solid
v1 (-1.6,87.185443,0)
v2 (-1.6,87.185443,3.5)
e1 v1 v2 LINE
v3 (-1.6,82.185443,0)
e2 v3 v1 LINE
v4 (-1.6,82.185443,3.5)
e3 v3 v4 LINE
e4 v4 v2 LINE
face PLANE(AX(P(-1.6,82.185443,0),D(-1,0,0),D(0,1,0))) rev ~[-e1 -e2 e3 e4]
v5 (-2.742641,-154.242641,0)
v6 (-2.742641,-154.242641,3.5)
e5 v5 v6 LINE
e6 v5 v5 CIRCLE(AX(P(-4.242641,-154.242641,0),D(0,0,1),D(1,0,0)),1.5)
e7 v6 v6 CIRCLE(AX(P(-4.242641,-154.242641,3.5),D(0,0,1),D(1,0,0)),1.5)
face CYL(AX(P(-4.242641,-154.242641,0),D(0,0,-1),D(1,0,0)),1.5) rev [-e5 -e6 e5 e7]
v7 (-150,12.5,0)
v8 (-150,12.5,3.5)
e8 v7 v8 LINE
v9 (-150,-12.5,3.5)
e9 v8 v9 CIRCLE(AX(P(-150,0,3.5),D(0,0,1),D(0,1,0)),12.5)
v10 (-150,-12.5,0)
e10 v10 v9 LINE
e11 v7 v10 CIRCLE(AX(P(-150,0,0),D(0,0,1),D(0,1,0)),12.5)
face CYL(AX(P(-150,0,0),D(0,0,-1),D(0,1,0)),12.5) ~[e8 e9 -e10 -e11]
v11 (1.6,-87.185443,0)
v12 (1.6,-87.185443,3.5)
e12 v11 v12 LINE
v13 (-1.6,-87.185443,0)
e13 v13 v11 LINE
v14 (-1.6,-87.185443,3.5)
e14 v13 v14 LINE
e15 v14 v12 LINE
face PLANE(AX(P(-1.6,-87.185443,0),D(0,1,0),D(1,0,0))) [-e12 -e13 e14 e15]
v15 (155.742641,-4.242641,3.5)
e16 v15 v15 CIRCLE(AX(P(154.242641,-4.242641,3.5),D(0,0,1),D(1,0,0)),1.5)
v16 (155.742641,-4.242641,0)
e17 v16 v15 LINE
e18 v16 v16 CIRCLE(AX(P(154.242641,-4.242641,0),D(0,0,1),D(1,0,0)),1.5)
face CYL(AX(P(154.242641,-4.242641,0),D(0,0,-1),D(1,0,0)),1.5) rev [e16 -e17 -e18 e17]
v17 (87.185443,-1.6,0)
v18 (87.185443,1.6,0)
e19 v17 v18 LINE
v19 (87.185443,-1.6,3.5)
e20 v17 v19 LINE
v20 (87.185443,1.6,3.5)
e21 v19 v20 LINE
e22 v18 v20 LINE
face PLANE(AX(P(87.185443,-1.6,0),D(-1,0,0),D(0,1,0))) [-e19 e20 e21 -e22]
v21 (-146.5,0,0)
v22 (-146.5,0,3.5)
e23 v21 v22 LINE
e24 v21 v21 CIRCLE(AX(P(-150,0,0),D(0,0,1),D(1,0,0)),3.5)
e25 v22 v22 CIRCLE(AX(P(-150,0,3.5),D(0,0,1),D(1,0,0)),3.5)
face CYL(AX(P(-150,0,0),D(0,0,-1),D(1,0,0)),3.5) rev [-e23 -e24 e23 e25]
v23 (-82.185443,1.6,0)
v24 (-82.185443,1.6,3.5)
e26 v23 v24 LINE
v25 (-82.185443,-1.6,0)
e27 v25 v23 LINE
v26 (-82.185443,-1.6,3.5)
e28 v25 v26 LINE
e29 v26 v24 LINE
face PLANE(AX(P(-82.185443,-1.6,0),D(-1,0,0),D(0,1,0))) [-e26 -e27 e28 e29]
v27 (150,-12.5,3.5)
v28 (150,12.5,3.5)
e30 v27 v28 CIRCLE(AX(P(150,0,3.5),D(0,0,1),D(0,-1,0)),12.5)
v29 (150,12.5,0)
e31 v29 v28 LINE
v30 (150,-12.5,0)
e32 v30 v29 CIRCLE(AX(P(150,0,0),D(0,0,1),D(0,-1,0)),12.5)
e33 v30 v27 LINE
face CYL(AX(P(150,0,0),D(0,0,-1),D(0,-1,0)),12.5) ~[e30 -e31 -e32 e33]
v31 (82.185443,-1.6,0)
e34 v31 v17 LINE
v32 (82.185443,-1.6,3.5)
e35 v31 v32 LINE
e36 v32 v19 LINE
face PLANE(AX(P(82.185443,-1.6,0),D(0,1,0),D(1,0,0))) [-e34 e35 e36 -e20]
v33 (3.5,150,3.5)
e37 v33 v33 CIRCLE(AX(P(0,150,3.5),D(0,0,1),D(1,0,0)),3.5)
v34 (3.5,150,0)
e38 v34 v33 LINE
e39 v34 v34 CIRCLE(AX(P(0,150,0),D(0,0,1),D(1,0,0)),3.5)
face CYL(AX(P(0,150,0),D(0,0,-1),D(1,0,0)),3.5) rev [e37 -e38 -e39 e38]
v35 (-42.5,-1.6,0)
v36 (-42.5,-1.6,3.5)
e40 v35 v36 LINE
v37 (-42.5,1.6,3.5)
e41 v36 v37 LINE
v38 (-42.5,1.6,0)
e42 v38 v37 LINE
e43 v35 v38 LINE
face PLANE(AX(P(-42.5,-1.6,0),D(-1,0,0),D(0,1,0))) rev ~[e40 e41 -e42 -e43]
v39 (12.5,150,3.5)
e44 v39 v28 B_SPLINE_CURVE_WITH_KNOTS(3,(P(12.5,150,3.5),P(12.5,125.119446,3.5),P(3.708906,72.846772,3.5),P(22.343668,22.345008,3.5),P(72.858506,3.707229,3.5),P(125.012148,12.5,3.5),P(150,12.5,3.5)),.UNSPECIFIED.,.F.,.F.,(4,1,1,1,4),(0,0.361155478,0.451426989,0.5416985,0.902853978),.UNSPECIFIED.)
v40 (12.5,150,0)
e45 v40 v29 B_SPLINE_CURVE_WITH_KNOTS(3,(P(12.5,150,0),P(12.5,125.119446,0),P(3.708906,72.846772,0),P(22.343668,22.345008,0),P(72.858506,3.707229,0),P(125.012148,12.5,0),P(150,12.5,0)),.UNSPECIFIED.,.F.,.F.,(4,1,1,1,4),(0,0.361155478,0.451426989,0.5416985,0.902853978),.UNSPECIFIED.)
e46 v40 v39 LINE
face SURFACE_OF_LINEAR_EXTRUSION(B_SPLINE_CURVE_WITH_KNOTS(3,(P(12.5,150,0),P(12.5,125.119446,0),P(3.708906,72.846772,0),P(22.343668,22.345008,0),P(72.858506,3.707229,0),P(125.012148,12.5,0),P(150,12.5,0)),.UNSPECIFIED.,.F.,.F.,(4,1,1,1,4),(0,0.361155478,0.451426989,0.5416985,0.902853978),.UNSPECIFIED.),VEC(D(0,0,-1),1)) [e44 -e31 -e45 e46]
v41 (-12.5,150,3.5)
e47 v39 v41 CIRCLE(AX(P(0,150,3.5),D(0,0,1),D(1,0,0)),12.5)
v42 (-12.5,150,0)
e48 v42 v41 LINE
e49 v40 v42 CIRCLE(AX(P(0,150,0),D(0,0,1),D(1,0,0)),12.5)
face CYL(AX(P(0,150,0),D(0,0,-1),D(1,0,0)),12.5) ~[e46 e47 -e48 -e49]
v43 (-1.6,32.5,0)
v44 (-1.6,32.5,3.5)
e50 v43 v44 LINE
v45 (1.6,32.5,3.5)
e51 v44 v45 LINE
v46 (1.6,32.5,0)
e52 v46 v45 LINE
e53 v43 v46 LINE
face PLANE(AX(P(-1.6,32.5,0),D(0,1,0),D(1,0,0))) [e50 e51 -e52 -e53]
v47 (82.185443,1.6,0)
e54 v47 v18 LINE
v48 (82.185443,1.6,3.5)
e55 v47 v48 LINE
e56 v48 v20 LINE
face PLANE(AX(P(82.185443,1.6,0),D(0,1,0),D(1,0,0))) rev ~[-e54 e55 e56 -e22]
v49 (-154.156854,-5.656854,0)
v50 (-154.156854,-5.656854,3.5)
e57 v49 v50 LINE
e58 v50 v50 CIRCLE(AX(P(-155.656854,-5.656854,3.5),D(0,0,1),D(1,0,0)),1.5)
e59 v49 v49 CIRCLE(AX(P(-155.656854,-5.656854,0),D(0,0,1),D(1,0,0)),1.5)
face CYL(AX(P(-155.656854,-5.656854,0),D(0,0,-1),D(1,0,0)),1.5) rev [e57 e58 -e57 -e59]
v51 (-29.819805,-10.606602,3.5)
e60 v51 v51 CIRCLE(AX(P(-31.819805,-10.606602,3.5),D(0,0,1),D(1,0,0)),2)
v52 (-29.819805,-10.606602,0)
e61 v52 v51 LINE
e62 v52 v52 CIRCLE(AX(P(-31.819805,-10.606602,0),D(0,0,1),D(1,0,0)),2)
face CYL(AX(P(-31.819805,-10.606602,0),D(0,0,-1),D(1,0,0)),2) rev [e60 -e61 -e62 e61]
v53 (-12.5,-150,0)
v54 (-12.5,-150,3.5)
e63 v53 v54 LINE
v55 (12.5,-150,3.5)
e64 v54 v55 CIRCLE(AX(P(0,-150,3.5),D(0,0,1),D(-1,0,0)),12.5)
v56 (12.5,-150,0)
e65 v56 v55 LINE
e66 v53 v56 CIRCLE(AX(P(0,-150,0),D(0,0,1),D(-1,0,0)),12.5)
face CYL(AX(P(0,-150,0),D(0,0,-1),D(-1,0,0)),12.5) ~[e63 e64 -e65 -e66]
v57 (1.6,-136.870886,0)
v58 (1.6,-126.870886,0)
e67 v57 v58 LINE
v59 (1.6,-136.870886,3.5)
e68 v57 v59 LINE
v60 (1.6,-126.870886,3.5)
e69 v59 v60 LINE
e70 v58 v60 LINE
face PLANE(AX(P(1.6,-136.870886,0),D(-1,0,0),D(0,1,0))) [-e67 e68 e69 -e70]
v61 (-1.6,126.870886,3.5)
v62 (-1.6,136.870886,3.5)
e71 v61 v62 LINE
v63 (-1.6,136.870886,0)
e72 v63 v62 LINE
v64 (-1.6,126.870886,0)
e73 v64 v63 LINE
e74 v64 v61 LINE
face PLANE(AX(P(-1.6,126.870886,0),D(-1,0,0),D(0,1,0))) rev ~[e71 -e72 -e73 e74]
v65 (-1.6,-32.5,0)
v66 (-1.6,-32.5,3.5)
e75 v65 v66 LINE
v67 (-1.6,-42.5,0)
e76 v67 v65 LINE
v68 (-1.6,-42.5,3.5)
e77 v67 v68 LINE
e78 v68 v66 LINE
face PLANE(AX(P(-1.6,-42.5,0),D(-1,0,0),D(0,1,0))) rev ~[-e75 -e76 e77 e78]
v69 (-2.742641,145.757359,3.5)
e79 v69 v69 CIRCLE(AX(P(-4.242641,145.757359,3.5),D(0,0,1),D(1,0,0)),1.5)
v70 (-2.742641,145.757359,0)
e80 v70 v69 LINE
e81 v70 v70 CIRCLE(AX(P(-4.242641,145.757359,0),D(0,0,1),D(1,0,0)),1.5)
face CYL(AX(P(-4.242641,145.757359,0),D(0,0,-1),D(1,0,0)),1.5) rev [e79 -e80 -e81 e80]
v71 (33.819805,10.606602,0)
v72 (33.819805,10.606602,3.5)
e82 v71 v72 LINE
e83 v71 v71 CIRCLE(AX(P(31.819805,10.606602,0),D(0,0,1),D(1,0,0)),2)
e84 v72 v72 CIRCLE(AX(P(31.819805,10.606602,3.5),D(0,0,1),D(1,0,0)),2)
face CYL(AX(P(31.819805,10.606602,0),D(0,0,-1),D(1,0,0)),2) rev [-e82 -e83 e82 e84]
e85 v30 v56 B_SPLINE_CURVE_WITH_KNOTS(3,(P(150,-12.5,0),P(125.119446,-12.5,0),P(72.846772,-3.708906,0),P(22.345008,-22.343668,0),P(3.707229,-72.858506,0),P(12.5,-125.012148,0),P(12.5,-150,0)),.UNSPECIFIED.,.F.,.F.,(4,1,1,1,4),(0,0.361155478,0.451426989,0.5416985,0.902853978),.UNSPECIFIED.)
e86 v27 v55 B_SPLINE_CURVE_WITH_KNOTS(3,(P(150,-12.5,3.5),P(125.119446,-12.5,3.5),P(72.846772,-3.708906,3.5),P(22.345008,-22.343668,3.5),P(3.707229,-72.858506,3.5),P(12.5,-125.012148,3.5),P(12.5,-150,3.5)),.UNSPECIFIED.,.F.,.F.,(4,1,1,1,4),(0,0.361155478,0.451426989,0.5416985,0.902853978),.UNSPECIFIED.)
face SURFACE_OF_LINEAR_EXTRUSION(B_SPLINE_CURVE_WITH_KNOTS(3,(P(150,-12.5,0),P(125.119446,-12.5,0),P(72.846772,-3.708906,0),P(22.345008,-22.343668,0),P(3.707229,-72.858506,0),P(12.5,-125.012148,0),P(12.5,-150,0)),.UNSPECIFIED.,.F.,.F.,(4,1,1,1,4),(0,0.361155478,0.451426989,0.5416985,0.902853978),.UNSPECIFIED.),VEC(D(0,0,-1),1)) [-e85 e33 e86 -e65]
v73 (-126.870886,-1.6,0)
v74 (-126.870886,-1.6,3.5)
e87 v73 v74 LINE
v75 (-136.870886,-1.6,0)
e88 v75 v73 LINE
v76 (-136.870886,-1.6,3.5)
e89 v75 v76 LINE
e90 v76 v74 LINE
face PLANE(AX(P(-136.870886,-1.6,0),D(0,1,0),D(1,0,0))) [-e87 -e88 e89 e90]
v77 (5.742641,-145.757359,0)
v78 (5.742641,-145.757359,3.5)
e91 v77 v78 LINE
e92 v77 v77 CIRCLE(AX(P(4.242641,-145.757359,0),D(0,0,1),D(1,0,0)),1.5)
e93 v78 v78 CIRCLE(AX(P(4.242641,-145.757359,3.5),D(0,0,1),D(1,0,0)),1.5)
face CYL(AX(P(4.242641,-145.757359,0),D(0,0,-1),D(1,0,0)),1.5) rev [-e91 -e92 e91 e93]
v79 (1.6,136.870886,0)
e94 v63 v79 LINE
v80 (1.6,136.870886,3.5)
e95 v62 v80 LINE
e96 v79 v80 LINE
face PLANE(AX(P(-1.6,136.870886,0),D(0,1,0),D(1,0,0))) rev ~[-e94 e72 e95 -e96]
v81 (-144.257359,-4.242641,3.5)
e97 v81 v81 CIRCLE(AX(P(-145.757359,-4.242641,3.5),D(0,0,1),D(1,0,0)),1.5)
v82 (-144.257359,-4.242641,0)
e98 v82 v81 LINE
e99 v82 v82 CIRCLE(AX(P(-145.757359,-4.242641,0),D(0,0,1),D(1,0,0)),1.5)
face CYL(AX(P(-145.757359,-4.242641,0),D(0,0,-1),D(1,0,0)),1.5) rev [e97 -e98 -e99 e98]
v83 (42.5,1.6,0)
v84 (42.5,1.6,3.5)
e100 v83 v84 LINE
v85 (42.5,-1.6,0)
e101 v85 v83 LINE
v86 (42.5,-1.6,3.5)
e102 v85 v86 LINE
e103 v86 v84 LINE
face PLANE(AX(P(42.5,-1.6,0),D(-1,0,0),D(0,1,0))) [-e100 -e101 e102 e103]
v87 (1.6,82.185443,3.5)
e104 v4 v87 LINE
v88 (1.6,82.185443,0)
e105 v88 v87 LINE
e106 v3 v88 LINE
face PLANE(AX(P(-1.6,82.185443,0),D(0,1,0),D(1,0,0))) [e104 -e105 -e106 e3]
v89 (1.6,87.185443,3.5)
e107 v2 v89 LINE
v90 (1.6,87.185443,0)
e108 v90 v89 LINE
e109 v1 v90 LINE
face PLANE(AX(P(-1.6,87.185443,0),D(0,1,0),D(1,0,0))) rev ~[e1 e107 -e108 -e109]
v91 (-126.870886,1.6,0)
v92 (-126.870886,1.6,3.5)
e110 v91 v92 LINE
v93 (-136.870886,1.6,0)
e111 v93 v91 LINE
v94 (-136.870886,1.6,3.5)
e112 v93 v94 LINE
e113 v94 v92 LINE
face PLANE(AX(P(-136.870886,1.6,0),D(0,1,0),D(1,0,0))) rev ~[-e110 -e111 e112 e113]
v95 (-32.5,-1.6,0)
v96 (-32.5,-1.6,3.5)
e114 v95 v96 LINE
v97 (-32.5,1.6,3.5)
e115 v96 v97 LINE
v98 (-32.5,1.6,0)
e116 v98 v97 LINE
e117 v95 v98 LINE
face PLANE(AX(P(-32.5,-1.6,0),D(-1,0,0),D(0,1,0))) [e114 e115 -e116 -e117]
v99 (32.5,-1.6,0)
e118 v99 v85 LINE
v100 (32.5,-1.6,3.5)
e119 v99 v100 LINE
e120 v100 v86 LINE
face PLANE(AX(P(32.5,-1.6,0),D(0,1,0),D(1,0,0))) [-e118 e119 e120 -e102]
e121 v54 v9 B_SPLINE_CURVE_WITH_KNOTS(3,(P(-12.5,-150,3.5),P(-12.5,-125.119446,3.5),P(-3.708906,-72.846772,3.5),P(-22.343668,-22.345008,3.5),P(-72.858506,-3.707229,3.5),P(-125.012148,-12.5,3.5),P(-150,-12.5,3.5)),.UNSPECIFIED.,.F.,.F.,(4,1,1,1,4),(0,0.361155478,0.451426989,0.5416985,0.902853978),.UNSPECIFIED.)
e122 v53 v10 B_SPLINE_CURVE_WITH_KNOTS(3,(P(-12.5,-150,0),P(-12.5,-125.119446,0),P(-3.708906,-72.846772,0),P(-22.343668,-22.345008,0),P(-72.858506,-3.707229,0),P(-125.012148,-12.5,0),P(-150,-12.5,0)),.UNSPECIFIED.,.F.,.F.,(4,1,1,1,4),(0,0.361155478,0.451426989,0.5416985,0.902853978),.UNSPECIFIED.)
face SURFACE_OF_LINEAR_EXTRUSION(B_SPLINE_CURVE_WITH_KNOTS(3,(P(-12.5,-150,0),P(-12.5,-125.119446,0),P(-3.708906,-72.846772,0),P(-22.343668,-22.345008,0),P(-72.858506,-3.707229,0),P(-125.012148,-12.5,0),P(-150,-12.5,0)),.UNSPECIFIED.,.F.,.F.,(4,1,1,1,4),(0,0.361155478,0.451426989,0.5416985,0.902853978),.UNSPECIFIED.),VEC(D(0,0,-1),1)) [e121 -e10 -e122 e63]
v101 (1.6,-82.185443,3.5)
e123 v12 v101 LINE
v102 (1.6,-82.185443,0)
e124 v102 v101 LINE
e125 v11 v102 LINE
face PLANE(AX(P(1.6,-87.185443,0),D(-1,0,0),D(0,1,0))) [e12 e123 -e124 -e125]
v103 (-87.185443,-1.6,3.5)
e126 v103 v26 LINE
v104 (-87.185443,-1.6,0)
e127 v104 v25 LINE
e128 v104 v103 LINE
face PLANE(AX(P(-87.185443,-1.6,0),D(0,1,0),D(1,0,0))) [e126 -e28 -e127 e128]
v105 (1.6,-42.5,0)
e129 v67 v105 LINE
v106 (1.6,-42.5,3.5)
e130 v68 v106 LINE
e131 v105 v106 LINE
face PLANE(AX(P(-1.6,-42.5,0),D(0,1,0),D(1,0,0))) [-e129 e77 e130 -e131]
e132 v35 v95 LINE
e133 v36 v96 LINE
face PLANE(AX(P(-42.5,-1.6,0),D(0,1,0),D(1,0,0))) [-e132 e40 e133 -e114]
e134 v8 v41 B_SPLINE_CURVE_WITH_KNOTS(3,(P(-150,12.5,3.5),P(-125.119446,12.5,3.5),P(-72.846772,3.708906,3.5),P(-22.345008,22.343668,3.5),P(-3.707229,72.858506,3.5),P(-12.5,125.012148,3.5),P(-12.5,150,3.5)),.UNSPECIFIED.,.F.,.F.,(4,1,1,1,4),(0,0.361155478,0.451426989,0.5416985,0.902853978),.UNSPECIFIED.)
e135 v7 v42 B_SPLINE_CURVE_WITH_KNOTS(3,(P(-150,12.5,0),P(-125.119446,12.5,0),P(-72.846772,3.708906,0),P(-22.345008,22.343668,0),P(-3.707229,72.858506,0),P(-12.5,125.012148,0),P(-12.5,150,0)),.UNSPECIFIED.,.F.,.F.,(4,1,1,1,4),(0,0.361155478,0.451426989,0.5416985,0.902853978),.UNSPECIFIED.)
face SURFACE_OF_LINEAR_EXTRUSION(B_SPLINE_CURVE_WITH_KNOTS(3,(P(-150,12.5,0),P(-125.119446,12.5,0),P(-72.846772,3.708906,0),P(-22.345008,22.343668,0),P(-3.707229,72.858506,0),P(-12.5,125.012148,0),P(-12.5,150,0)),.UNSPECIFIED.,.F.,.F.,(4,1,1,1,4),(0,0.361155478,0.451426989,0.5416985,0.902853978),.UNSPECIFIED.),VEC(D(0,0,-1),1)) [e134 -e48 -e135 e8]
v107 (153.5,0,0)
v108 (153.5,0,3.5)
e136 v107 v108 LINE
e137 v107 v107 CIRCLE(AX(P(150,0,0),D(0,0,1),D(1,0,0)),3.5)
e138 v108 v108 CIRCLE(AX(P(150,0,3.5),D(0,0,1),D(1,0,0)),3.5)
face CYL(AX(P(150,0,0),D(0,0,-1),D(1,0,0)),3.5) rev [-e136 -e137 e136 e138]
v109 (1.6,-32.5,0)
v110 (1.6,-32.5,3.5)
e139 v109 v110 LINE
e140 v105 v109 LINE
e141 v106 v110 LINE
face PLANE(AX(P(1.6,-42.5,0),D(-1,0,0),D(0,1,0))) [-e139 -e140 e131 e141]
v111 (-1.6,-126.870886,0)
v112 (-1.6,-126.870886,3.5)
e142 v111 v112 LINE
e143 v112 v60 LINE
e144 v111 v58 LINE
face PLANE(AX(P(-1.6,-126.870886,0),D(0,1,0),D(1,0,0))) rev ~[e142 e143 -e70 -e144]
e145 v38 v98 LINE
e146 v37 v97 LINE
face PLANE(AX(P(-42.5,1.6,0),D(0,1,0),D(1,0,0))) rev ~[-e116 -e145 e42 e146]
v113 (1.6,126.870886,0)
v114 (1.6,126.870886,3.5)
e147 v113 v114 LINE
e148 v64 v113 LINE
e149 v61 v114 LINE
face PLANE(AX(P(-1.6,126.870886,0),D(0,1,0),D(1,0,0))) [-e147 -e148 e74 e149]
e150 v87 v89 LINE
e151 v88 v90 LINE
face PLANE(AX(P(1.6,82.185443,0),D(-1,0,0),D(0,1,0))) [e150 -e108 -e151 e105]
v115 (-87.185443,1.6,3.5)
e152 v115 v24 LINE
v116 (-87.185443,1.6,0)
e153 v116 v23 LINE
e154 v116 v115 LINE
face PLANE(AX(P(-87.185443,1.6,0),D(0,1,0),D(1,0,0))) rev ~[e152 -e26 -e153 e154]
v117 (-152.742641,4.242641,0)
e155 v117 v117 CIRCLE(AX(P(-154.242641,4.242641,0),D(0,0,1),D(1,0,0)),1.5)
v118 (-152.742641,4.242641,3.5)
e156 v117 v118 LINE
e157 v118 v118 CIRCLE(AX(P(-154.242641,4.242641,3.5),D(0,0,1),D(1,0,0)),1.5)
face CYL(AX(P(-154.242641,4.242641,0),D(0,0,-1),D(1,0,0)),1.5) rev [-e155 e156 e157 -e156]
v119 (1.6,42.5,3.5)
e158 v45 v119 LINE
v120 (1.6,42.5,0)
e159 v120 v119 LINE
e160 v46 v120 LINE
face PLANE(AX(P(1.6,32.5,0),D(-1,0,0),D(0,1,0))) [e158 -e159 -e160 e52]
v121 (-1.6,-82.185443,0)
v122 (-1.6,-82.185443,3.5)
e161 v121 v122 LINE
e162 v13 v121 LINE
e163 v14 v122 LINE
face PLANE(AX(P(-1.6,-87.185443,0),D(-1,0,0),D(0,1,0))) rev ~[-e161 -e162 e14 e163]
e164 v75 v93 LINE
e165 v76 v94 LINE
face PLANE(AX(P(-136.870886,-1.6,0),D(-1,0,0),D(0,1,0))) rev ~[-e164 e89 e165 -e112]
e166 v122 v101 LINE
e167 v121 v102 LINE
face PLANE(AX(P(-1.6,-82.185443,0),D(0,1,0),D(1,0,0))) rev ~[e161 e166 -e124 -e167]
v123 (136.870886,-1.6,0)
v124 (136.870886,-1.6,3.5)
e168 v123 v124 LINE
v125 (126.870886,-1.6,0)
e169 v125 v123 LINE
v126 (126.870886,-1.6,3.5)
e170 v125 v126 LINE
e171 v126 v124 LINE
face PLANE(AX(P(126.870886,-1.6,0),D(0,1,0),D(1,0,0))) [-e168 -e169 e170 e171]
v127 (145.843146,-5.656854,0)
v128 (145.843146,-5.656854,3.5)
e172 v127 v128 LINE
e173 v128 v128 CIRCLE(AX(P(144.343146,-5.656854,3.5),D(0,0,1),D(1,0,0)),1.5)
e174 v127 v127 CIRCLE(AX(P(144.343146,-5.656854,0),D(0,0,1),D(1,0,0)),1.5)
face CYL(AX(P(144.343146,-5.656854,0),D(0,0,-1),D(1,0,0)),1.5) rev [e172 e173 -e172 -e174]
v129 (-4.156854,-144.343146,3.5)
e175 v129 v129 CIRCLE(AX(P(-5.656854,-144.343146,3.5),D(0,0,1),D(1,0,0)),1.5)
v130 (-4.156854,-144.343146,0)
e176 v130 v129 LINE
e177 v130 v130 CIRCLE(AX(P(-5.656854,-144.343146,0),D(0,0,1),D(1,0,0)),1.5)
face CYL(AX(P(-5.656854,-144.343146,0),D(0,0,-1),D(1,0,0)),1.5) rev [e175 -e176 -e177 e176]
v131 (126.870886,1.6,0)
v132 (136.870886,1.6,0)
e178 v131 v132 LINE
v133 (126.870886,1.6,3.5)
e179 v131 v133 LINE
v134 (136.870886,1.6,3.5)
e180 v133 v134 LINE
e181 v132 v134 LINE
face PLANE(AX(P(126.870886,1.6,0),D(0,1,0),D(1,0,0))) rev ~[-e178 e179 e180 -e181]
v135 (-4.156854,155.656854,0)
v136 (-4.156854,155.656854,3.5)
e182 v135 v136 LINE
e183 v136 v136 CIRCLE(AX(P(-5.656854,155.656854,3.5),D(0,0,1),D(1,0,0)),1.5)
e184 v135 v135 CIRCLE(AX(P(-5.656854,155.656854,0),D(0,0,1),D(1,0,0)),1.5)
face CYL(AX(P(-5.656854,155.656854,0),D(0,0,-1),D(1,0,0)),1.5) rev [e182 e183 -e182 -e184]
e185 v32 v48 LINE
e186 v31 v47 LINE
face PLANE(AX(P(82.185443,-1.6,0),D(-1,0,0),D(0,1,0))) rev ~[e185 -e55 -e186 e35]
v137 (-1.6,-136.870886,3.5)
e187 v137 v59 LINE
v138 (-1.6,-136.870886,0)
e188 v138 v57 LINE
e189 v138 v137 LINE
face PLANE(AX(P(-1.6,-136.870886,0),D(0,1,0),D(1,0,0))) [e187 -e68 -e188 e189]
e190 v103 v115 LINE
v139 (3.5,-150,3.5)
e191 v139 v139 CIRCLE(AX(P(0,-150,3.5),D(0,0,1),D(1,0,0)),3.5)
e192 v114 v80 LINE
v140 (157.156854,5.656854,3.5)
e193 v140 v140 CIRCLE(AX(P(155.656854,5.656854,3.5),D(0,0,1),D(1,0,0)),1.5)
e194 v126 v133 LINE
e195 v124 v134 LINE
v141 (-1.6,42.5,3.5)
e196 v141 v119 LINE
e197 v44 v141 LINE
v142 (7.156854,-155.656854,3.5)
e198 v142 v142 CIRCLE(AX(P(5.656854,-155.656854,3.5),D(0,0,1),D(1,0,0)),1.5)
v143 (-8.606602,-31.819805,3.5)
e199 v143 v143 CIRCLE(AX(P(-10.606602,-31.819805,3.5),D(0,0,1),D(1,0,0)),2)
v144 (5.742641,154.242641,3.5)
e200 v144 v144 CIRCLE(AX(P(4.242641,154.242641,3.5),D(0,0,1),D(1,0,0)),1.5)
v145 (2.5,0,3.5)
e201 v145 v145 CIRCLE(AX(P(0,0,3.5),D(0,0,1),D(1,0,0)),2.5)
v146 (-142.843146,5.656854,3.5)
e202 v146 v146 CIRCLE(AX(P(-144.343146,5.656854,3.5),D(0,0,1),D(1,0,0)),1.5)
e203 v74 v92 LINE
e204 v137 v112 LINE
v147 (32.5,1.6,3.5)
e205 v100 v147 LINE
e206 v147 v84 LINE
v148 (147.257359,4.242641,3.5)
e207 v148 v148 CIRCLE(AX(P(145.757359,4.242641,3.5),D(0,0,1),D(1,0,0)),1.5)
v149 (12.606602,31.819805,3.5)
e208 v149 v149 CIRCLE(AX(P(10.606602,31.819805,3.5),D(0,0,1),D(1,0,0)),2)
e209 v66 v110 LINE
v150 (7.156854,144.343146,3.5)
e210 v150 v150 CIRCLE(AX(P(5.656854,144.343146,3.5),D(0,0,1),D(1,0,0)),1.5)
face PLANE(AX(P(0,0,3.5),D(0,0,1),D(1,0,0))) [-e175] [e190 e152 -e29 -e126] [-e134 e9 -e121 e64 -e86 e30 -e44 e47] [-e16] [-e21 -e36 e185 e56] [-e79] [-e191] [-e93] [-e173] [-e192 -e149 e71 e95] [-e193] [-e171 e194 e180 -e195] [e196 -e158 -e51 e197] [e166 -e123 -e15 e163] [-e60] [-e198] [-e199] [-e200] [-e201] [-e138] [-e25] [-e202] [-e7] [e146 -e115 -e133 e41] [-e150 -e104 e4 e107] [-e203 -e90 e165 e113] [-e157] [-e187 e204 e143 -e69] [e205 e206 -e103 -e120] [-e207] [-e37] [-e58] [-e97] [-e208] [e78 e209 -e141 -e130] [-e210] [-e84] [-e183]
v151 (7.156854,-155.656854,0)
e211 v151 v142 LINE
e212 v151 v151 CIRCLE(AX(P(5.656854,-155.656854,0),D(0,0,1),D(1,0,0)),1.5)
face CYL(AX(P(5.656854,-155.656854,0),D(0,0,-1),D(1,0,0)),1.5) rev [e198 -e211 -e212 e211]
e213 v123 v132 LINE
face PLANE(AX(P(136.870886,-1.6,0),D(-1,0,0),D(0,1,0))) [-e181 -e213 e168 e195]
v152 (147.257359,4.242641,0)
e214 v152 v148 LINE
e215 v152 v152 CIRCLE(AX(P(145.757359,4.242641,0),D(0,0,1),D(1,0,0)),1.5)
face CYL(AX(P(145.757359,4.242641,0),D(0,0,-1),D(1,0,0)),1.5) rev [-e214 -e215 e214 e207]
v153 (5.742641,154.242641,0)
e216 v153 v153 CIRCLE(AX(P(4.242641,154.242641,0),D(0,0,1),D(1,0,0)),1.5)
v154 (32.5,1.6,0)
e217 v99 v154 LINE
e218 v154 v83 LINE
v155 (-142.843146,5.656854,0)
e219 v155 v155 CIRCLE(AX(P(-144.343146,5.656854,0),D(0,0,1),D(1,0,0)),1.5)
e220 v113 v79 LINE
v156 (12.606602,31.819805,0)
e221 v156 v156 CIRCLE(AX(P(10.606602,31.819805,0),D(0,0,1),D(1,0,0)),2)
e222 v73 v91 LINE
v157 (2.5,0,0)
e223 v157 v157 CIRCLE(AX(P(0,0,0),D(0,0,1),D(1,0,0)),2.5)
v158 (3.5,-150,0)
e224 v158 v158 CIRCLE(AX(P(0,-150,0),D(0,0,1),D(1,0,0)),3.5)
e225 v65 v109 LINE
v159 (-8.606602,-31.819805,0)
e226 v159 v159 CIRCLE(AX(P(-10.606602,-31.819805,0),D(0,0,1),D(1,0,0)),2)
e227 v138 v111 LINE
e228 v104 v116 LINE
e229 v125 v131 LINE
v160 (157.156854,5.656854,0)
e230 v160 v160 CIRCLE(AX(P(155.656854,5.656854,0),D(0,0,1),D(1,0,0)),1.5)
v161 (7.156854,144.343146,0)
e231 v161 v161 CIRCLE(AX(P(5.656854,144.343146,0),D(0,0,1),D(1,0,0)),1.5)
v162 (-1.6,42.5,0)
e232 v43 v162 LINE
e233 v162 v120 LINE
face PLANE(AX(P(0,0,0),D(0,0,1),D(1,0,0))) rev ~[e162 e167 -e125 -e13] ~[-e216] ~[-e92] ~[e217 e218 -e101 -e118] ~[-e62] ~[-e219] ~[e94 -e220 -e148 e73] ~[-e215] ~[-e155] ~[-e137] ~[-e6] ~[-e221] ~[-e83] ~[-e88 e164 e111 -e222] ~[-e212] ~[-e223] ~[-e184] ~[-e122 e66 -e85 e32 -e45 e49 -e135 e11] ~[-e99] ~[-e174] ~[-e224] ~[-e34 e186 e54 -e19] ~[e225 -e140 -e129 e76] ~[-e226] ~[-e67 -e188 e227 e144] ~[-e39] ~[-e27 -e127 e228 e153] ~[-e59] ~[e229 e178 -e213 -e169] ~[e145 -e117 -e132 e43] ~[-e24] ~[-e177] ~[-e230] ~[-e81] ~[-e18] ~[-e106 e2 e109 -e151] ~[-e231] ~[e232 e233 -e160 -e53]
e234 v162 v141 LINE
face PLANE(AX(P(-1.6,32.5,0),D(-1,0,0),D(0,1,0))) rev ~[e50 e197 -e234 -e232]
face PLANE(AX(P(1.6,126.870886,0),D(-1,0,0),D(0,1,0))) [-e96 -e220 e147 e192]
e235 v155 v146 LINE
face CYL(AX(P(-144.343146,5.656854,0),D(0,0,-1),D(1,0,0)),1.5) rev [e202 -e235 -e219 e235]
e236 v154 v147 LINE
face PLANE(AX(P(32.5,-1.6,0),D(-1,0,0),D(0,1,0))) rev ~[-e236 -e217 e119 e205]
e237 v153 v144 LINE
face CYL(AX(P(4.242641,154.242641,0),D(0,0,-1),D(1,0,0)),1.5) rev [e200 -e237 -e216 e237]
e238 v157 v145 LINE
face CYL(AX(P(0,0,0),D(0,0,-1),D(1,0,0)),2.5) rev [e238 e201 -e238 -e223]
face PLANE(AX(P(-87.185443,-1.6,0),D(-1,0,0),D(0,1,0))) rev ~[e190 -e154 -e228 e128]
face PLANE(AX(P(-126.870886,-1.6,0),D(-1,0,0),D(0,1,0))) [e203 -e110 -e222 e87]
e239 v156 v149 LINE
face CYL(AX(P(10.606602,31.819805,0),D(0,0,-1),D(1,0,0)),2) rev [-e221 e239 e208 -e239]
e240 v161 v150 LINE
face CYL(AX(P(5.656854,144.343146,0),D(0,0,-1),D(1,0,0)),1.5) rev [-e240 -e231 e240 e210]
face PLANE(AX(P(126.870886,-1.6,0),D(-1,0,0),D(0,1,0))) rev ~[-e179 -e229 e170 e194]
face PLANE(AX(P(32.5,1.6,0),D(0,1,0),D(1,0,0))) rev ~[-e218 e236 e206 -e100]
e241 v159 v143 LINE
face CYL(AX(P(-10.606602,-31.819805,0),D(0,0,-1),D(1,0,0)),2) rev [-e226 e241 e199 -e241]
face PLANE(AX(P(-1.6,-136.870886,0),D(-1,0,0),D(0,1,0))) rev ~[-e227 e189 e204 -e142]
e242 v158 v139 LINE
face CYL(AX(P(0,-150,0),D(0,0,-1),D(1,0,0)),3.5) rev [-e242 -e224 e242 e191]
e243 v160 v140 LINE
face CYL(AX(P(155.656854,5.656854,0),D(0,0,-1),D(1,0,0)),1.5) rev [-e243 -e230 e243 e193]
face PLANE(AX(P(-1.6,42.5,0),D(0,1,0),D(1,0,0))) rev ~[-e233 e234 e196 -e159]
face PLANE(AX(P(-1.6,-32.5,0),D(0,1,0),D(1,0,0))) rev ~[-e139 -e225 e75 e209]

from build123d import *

# Parameters (mm, degrees)
SKETCH1_R           = 1.5
SKETCH1_R_2         = 3.5
SKETCH1_R_3         = 2.5
SKETCH1_R_4         = 2
SKETCH1_W           = 3.2
SKETCH1_H           = 10
SKETCH1_W_2         = 10
SKETCH1_H_2         = 3.2
SKETCH1_W_3         = 5
SKETCH1_H_3         = 5
BOSS_EXTRUDE1_DEPTH = 3.5


with BuildPart() as part:
    # Sketch1 → Boss-Extrude1 (new body)
    with BuildSketch(Plane.XY):
        with BuildLine():
            ThreePointArc((-12.5, -150), (0, -162.5), (12.5, -150))
            add(Edge.make_bspline(
                [(150, -12.5), (125.11944581, -12.5), (72.846772211, -3.708905535), (22.345008274, -22.34366752), (3.707229254, -72.858505534), (12.5, -125.012148344), (12.5, -150)],
                knots=[0, 0, 0, 0, 0.361155478, 0.451426989, 0.5416985, 0.902853978, 0.902853978, 0.902853978, 0.902853978], degree=3))
            ThreePointArc((150, -12.5), (162.5, 0), (150, 12.5))
            add(Edge.make_bspline(
                [(12.5, 150), (12.5, 125.11944581), (3.708905535, 72.846772211), (22.34366752, 22.345008274), (72.858505534, 3.707229254), (125.012148344, 12.5), (150, 12.5)],
                knots=[0, 0, 0, 0, 0.361155478, 0.451426989, 0.5416985, 0.902853978, 0.902853978, 0.902853978, 0.902853978], degree=3))
            ThreePointArc((12.5, 150), (0, 162.5), (-12.5, 150))
            add(Edge.make_bspline(
                [(-150, 12.5), (-125.11944581, 12.5), (-72.846772211, 3.708905535), (-22.345008274, 22.34366752), (-3.707229254, 72.858505534), (-12.5, 125.012148344), (-12.5, 150)],
                knots=[0, 0, 0, 0, 0.361155478, 0.451426989, 0.5416985, 0.902853978, 0.902853978, 0.902853978, 0.902853978], degree=3))
            ThreePointArc((-150, 12.5), (-162.5, 0), (-150, -12.5))
            add(Edge.make_bspline(
                [(-12.5, -150), (-12.5, -125.11944581), (-3.708905535, -72.846772211), (-22.34366752, -22.345008274), (-72.858505534, -3.707229254), (-125.012148344, -12.5), (-150, -12.5)],
                knots=[0, 0, 0, 0, 0.361155478, 0.451426989, 0.5416985, 0.902853978, 0.902853978, 0.902853978, 0.902853978], degree=3))
        make_face()
        with Locations((-155.656854249, -5.656854249)):
            Circle(SKETCH1_R, mode=Mode.SUBTRACT)
        with Locations((-144.343145751, 5.656854249)):
            Circle(SKETCH1_R, mode=Mode.SUBTRACT)
        with Locations((-145.757359313, -4.242640687)):
            Circle(SKETCH1_R, mode=Mode.SUBTRACT)
        with Locations((-154.242640687, 4.242640687)):
            Circle(SKETCH1_R, mode=Mode.SUBTRACT)
        with Locations((-5.656854249, 155.656854249)):
            Circle(SKETCH1_R, mode=Mode.SUBTRACT)
        with Locations((-4.242640687, 145.757359313)):
            Circle(SKETCH1_R, mode=Mode.SUBTRACT)
        with Locations((5.656854249, 144.343145751)):
            Circle(SKETCH1_R, mode=Mode.SUBTRACT)
        with Locations((4.242640687, 154.242640687)):
            Circle(SKETCH1_R, mode=Mode.SUBTRACT)
        with Locations((155.656854249, 5.65685425)):
            Circle(SKETCH1_R, mode=Mode.SUBTRACT)
        with Locations((145.757359313, 4.242640687)):
            Circle(SKETCH1_R, mode=Mode.SUBTRACT)
        with Locations((144.343145751, -5.656854249)):
            Circle(SKETCH1_R, mode=Mode.SUBTRACT)
        with Locations((154.242640687, -4.242640687)):
            Circle(SKETCH1_R, mode=Mode.SUBTRACT)
        with Locations((5.656854249, -155.656854249)):
            Circle(SKETCH1_R, mode=Mode.SUBTRACT)
        with Locations((4.242640687, -145.757359313)):
            Circle(SKETCH1_R, mode=Mode.SUBTRACT)
        with Locations((-5.656854249, -144.343145751)):
            Circle(SKETCH1_R, mode=Mode.SUBTRACT)
        with Locations((-4.242640687, -154.242640687)):
            Circle(SKETCH1_R, mode=Mode.SUBTRACT)
        with Locations((-150, 0)):
            Circle(SKETCH1_R_2, mode=Mode.SUBTRACT)
        with Locations((0, 150)):
            Circle(SKETCH1_R_2, mode=Mode.SUBTRACT)
        with Locations((150, 0)):
            Circle(SKETCH1_R_2, mode=Mode.SUBTRACT)
        with Locations((0, -150)):
            Circle(SKETCH1_R_2, mode=Mode.SUBTRACT)
        Circle(SKETCH1_R_3, mode=Mode.SUBTRACT)
        with Locations((10.606601718, 31.819805153)):
            Circle(SKETCH1_R_4, mode=Mode.SUBTRACT)
        with Locations((31.819805153, 10.606601718)):
            Circle(SKETCH1_R_4, mode=Mode.SUBTRACT)
        with Locations((-10.606601718, -31.819805153)):
            Circle(SKETCH1_R_4, mode=Mode.SUBTRACT)
        with Locations((-31.819805153, -10.606601718)):
            Circle(SKETCH1_R_4, mode=Mode.SUBTRACT)
        with Locations((0, -37.5)):
            Rectangle(SKETCH1_W, SKETCH1_H, mode=Mode.SUBTRACT)
        with Locations((-37.5, 0)):
            Rectangle(SKETCH1_W_2, SKETCH1_H_2, mode=Mode.SUBTRACT)
        with Locations((0, 37.5)):
            Rectangle(SKETCH1_W, SKETCH1_H, mode=Mode.SUBTRACT)
        with Locations((37.5, 0)):
            Rectangle(SKETCH1_W_2, SKETCH1_H_2, mode=Mode.SUBTRACT)
        with Locations((0, -131.870885898)):
            Rectangle(SKETCH1_W, SKETCH1_H, mode=Mode.SUBTRACT)
        with Locations((-131.870885898, 0)):
            Rectangle(SKETCH1_W_2, SKETCH1_H_2, mode=Mode.SUBTRACT)
        with Locations((0, 131.870885898)):
            Rectangle(SKETCH1_W, SKETCH1_H, mode=Mode.SUBTRACT)
        with Locations((131.870885898, 0)):
            Rectangle(SKETCH1_W_2, SKETCH1_H_2, mode=Mode.SUBTRACT)
        with Locations((-84.685442949, 0)):
            Rectangle(SKETCH1_W_3, SKETCH1_H_2, mode=Mode.SUBTRACT)
        with Locations((0, -84.685442949)):
            Rectangle(SKETCH1_W, SKETCH1_H_3, mode=Mode.SUBTRACT)
        with Locations((0, 84.685442949)):
            Rectangle(SKETCH1_W, SKETCH1_H_3, mode=Mode.SUBTRACT)
        with Locations((84.685442949, 0)):
            Rectangle(SKETCH1_W_3, SKETCH1_H_2, mode=Mode.SUBTRACT)
    extrude(amount=BOSS_EXTRUDE1_DEPTH)


solid = part.part
